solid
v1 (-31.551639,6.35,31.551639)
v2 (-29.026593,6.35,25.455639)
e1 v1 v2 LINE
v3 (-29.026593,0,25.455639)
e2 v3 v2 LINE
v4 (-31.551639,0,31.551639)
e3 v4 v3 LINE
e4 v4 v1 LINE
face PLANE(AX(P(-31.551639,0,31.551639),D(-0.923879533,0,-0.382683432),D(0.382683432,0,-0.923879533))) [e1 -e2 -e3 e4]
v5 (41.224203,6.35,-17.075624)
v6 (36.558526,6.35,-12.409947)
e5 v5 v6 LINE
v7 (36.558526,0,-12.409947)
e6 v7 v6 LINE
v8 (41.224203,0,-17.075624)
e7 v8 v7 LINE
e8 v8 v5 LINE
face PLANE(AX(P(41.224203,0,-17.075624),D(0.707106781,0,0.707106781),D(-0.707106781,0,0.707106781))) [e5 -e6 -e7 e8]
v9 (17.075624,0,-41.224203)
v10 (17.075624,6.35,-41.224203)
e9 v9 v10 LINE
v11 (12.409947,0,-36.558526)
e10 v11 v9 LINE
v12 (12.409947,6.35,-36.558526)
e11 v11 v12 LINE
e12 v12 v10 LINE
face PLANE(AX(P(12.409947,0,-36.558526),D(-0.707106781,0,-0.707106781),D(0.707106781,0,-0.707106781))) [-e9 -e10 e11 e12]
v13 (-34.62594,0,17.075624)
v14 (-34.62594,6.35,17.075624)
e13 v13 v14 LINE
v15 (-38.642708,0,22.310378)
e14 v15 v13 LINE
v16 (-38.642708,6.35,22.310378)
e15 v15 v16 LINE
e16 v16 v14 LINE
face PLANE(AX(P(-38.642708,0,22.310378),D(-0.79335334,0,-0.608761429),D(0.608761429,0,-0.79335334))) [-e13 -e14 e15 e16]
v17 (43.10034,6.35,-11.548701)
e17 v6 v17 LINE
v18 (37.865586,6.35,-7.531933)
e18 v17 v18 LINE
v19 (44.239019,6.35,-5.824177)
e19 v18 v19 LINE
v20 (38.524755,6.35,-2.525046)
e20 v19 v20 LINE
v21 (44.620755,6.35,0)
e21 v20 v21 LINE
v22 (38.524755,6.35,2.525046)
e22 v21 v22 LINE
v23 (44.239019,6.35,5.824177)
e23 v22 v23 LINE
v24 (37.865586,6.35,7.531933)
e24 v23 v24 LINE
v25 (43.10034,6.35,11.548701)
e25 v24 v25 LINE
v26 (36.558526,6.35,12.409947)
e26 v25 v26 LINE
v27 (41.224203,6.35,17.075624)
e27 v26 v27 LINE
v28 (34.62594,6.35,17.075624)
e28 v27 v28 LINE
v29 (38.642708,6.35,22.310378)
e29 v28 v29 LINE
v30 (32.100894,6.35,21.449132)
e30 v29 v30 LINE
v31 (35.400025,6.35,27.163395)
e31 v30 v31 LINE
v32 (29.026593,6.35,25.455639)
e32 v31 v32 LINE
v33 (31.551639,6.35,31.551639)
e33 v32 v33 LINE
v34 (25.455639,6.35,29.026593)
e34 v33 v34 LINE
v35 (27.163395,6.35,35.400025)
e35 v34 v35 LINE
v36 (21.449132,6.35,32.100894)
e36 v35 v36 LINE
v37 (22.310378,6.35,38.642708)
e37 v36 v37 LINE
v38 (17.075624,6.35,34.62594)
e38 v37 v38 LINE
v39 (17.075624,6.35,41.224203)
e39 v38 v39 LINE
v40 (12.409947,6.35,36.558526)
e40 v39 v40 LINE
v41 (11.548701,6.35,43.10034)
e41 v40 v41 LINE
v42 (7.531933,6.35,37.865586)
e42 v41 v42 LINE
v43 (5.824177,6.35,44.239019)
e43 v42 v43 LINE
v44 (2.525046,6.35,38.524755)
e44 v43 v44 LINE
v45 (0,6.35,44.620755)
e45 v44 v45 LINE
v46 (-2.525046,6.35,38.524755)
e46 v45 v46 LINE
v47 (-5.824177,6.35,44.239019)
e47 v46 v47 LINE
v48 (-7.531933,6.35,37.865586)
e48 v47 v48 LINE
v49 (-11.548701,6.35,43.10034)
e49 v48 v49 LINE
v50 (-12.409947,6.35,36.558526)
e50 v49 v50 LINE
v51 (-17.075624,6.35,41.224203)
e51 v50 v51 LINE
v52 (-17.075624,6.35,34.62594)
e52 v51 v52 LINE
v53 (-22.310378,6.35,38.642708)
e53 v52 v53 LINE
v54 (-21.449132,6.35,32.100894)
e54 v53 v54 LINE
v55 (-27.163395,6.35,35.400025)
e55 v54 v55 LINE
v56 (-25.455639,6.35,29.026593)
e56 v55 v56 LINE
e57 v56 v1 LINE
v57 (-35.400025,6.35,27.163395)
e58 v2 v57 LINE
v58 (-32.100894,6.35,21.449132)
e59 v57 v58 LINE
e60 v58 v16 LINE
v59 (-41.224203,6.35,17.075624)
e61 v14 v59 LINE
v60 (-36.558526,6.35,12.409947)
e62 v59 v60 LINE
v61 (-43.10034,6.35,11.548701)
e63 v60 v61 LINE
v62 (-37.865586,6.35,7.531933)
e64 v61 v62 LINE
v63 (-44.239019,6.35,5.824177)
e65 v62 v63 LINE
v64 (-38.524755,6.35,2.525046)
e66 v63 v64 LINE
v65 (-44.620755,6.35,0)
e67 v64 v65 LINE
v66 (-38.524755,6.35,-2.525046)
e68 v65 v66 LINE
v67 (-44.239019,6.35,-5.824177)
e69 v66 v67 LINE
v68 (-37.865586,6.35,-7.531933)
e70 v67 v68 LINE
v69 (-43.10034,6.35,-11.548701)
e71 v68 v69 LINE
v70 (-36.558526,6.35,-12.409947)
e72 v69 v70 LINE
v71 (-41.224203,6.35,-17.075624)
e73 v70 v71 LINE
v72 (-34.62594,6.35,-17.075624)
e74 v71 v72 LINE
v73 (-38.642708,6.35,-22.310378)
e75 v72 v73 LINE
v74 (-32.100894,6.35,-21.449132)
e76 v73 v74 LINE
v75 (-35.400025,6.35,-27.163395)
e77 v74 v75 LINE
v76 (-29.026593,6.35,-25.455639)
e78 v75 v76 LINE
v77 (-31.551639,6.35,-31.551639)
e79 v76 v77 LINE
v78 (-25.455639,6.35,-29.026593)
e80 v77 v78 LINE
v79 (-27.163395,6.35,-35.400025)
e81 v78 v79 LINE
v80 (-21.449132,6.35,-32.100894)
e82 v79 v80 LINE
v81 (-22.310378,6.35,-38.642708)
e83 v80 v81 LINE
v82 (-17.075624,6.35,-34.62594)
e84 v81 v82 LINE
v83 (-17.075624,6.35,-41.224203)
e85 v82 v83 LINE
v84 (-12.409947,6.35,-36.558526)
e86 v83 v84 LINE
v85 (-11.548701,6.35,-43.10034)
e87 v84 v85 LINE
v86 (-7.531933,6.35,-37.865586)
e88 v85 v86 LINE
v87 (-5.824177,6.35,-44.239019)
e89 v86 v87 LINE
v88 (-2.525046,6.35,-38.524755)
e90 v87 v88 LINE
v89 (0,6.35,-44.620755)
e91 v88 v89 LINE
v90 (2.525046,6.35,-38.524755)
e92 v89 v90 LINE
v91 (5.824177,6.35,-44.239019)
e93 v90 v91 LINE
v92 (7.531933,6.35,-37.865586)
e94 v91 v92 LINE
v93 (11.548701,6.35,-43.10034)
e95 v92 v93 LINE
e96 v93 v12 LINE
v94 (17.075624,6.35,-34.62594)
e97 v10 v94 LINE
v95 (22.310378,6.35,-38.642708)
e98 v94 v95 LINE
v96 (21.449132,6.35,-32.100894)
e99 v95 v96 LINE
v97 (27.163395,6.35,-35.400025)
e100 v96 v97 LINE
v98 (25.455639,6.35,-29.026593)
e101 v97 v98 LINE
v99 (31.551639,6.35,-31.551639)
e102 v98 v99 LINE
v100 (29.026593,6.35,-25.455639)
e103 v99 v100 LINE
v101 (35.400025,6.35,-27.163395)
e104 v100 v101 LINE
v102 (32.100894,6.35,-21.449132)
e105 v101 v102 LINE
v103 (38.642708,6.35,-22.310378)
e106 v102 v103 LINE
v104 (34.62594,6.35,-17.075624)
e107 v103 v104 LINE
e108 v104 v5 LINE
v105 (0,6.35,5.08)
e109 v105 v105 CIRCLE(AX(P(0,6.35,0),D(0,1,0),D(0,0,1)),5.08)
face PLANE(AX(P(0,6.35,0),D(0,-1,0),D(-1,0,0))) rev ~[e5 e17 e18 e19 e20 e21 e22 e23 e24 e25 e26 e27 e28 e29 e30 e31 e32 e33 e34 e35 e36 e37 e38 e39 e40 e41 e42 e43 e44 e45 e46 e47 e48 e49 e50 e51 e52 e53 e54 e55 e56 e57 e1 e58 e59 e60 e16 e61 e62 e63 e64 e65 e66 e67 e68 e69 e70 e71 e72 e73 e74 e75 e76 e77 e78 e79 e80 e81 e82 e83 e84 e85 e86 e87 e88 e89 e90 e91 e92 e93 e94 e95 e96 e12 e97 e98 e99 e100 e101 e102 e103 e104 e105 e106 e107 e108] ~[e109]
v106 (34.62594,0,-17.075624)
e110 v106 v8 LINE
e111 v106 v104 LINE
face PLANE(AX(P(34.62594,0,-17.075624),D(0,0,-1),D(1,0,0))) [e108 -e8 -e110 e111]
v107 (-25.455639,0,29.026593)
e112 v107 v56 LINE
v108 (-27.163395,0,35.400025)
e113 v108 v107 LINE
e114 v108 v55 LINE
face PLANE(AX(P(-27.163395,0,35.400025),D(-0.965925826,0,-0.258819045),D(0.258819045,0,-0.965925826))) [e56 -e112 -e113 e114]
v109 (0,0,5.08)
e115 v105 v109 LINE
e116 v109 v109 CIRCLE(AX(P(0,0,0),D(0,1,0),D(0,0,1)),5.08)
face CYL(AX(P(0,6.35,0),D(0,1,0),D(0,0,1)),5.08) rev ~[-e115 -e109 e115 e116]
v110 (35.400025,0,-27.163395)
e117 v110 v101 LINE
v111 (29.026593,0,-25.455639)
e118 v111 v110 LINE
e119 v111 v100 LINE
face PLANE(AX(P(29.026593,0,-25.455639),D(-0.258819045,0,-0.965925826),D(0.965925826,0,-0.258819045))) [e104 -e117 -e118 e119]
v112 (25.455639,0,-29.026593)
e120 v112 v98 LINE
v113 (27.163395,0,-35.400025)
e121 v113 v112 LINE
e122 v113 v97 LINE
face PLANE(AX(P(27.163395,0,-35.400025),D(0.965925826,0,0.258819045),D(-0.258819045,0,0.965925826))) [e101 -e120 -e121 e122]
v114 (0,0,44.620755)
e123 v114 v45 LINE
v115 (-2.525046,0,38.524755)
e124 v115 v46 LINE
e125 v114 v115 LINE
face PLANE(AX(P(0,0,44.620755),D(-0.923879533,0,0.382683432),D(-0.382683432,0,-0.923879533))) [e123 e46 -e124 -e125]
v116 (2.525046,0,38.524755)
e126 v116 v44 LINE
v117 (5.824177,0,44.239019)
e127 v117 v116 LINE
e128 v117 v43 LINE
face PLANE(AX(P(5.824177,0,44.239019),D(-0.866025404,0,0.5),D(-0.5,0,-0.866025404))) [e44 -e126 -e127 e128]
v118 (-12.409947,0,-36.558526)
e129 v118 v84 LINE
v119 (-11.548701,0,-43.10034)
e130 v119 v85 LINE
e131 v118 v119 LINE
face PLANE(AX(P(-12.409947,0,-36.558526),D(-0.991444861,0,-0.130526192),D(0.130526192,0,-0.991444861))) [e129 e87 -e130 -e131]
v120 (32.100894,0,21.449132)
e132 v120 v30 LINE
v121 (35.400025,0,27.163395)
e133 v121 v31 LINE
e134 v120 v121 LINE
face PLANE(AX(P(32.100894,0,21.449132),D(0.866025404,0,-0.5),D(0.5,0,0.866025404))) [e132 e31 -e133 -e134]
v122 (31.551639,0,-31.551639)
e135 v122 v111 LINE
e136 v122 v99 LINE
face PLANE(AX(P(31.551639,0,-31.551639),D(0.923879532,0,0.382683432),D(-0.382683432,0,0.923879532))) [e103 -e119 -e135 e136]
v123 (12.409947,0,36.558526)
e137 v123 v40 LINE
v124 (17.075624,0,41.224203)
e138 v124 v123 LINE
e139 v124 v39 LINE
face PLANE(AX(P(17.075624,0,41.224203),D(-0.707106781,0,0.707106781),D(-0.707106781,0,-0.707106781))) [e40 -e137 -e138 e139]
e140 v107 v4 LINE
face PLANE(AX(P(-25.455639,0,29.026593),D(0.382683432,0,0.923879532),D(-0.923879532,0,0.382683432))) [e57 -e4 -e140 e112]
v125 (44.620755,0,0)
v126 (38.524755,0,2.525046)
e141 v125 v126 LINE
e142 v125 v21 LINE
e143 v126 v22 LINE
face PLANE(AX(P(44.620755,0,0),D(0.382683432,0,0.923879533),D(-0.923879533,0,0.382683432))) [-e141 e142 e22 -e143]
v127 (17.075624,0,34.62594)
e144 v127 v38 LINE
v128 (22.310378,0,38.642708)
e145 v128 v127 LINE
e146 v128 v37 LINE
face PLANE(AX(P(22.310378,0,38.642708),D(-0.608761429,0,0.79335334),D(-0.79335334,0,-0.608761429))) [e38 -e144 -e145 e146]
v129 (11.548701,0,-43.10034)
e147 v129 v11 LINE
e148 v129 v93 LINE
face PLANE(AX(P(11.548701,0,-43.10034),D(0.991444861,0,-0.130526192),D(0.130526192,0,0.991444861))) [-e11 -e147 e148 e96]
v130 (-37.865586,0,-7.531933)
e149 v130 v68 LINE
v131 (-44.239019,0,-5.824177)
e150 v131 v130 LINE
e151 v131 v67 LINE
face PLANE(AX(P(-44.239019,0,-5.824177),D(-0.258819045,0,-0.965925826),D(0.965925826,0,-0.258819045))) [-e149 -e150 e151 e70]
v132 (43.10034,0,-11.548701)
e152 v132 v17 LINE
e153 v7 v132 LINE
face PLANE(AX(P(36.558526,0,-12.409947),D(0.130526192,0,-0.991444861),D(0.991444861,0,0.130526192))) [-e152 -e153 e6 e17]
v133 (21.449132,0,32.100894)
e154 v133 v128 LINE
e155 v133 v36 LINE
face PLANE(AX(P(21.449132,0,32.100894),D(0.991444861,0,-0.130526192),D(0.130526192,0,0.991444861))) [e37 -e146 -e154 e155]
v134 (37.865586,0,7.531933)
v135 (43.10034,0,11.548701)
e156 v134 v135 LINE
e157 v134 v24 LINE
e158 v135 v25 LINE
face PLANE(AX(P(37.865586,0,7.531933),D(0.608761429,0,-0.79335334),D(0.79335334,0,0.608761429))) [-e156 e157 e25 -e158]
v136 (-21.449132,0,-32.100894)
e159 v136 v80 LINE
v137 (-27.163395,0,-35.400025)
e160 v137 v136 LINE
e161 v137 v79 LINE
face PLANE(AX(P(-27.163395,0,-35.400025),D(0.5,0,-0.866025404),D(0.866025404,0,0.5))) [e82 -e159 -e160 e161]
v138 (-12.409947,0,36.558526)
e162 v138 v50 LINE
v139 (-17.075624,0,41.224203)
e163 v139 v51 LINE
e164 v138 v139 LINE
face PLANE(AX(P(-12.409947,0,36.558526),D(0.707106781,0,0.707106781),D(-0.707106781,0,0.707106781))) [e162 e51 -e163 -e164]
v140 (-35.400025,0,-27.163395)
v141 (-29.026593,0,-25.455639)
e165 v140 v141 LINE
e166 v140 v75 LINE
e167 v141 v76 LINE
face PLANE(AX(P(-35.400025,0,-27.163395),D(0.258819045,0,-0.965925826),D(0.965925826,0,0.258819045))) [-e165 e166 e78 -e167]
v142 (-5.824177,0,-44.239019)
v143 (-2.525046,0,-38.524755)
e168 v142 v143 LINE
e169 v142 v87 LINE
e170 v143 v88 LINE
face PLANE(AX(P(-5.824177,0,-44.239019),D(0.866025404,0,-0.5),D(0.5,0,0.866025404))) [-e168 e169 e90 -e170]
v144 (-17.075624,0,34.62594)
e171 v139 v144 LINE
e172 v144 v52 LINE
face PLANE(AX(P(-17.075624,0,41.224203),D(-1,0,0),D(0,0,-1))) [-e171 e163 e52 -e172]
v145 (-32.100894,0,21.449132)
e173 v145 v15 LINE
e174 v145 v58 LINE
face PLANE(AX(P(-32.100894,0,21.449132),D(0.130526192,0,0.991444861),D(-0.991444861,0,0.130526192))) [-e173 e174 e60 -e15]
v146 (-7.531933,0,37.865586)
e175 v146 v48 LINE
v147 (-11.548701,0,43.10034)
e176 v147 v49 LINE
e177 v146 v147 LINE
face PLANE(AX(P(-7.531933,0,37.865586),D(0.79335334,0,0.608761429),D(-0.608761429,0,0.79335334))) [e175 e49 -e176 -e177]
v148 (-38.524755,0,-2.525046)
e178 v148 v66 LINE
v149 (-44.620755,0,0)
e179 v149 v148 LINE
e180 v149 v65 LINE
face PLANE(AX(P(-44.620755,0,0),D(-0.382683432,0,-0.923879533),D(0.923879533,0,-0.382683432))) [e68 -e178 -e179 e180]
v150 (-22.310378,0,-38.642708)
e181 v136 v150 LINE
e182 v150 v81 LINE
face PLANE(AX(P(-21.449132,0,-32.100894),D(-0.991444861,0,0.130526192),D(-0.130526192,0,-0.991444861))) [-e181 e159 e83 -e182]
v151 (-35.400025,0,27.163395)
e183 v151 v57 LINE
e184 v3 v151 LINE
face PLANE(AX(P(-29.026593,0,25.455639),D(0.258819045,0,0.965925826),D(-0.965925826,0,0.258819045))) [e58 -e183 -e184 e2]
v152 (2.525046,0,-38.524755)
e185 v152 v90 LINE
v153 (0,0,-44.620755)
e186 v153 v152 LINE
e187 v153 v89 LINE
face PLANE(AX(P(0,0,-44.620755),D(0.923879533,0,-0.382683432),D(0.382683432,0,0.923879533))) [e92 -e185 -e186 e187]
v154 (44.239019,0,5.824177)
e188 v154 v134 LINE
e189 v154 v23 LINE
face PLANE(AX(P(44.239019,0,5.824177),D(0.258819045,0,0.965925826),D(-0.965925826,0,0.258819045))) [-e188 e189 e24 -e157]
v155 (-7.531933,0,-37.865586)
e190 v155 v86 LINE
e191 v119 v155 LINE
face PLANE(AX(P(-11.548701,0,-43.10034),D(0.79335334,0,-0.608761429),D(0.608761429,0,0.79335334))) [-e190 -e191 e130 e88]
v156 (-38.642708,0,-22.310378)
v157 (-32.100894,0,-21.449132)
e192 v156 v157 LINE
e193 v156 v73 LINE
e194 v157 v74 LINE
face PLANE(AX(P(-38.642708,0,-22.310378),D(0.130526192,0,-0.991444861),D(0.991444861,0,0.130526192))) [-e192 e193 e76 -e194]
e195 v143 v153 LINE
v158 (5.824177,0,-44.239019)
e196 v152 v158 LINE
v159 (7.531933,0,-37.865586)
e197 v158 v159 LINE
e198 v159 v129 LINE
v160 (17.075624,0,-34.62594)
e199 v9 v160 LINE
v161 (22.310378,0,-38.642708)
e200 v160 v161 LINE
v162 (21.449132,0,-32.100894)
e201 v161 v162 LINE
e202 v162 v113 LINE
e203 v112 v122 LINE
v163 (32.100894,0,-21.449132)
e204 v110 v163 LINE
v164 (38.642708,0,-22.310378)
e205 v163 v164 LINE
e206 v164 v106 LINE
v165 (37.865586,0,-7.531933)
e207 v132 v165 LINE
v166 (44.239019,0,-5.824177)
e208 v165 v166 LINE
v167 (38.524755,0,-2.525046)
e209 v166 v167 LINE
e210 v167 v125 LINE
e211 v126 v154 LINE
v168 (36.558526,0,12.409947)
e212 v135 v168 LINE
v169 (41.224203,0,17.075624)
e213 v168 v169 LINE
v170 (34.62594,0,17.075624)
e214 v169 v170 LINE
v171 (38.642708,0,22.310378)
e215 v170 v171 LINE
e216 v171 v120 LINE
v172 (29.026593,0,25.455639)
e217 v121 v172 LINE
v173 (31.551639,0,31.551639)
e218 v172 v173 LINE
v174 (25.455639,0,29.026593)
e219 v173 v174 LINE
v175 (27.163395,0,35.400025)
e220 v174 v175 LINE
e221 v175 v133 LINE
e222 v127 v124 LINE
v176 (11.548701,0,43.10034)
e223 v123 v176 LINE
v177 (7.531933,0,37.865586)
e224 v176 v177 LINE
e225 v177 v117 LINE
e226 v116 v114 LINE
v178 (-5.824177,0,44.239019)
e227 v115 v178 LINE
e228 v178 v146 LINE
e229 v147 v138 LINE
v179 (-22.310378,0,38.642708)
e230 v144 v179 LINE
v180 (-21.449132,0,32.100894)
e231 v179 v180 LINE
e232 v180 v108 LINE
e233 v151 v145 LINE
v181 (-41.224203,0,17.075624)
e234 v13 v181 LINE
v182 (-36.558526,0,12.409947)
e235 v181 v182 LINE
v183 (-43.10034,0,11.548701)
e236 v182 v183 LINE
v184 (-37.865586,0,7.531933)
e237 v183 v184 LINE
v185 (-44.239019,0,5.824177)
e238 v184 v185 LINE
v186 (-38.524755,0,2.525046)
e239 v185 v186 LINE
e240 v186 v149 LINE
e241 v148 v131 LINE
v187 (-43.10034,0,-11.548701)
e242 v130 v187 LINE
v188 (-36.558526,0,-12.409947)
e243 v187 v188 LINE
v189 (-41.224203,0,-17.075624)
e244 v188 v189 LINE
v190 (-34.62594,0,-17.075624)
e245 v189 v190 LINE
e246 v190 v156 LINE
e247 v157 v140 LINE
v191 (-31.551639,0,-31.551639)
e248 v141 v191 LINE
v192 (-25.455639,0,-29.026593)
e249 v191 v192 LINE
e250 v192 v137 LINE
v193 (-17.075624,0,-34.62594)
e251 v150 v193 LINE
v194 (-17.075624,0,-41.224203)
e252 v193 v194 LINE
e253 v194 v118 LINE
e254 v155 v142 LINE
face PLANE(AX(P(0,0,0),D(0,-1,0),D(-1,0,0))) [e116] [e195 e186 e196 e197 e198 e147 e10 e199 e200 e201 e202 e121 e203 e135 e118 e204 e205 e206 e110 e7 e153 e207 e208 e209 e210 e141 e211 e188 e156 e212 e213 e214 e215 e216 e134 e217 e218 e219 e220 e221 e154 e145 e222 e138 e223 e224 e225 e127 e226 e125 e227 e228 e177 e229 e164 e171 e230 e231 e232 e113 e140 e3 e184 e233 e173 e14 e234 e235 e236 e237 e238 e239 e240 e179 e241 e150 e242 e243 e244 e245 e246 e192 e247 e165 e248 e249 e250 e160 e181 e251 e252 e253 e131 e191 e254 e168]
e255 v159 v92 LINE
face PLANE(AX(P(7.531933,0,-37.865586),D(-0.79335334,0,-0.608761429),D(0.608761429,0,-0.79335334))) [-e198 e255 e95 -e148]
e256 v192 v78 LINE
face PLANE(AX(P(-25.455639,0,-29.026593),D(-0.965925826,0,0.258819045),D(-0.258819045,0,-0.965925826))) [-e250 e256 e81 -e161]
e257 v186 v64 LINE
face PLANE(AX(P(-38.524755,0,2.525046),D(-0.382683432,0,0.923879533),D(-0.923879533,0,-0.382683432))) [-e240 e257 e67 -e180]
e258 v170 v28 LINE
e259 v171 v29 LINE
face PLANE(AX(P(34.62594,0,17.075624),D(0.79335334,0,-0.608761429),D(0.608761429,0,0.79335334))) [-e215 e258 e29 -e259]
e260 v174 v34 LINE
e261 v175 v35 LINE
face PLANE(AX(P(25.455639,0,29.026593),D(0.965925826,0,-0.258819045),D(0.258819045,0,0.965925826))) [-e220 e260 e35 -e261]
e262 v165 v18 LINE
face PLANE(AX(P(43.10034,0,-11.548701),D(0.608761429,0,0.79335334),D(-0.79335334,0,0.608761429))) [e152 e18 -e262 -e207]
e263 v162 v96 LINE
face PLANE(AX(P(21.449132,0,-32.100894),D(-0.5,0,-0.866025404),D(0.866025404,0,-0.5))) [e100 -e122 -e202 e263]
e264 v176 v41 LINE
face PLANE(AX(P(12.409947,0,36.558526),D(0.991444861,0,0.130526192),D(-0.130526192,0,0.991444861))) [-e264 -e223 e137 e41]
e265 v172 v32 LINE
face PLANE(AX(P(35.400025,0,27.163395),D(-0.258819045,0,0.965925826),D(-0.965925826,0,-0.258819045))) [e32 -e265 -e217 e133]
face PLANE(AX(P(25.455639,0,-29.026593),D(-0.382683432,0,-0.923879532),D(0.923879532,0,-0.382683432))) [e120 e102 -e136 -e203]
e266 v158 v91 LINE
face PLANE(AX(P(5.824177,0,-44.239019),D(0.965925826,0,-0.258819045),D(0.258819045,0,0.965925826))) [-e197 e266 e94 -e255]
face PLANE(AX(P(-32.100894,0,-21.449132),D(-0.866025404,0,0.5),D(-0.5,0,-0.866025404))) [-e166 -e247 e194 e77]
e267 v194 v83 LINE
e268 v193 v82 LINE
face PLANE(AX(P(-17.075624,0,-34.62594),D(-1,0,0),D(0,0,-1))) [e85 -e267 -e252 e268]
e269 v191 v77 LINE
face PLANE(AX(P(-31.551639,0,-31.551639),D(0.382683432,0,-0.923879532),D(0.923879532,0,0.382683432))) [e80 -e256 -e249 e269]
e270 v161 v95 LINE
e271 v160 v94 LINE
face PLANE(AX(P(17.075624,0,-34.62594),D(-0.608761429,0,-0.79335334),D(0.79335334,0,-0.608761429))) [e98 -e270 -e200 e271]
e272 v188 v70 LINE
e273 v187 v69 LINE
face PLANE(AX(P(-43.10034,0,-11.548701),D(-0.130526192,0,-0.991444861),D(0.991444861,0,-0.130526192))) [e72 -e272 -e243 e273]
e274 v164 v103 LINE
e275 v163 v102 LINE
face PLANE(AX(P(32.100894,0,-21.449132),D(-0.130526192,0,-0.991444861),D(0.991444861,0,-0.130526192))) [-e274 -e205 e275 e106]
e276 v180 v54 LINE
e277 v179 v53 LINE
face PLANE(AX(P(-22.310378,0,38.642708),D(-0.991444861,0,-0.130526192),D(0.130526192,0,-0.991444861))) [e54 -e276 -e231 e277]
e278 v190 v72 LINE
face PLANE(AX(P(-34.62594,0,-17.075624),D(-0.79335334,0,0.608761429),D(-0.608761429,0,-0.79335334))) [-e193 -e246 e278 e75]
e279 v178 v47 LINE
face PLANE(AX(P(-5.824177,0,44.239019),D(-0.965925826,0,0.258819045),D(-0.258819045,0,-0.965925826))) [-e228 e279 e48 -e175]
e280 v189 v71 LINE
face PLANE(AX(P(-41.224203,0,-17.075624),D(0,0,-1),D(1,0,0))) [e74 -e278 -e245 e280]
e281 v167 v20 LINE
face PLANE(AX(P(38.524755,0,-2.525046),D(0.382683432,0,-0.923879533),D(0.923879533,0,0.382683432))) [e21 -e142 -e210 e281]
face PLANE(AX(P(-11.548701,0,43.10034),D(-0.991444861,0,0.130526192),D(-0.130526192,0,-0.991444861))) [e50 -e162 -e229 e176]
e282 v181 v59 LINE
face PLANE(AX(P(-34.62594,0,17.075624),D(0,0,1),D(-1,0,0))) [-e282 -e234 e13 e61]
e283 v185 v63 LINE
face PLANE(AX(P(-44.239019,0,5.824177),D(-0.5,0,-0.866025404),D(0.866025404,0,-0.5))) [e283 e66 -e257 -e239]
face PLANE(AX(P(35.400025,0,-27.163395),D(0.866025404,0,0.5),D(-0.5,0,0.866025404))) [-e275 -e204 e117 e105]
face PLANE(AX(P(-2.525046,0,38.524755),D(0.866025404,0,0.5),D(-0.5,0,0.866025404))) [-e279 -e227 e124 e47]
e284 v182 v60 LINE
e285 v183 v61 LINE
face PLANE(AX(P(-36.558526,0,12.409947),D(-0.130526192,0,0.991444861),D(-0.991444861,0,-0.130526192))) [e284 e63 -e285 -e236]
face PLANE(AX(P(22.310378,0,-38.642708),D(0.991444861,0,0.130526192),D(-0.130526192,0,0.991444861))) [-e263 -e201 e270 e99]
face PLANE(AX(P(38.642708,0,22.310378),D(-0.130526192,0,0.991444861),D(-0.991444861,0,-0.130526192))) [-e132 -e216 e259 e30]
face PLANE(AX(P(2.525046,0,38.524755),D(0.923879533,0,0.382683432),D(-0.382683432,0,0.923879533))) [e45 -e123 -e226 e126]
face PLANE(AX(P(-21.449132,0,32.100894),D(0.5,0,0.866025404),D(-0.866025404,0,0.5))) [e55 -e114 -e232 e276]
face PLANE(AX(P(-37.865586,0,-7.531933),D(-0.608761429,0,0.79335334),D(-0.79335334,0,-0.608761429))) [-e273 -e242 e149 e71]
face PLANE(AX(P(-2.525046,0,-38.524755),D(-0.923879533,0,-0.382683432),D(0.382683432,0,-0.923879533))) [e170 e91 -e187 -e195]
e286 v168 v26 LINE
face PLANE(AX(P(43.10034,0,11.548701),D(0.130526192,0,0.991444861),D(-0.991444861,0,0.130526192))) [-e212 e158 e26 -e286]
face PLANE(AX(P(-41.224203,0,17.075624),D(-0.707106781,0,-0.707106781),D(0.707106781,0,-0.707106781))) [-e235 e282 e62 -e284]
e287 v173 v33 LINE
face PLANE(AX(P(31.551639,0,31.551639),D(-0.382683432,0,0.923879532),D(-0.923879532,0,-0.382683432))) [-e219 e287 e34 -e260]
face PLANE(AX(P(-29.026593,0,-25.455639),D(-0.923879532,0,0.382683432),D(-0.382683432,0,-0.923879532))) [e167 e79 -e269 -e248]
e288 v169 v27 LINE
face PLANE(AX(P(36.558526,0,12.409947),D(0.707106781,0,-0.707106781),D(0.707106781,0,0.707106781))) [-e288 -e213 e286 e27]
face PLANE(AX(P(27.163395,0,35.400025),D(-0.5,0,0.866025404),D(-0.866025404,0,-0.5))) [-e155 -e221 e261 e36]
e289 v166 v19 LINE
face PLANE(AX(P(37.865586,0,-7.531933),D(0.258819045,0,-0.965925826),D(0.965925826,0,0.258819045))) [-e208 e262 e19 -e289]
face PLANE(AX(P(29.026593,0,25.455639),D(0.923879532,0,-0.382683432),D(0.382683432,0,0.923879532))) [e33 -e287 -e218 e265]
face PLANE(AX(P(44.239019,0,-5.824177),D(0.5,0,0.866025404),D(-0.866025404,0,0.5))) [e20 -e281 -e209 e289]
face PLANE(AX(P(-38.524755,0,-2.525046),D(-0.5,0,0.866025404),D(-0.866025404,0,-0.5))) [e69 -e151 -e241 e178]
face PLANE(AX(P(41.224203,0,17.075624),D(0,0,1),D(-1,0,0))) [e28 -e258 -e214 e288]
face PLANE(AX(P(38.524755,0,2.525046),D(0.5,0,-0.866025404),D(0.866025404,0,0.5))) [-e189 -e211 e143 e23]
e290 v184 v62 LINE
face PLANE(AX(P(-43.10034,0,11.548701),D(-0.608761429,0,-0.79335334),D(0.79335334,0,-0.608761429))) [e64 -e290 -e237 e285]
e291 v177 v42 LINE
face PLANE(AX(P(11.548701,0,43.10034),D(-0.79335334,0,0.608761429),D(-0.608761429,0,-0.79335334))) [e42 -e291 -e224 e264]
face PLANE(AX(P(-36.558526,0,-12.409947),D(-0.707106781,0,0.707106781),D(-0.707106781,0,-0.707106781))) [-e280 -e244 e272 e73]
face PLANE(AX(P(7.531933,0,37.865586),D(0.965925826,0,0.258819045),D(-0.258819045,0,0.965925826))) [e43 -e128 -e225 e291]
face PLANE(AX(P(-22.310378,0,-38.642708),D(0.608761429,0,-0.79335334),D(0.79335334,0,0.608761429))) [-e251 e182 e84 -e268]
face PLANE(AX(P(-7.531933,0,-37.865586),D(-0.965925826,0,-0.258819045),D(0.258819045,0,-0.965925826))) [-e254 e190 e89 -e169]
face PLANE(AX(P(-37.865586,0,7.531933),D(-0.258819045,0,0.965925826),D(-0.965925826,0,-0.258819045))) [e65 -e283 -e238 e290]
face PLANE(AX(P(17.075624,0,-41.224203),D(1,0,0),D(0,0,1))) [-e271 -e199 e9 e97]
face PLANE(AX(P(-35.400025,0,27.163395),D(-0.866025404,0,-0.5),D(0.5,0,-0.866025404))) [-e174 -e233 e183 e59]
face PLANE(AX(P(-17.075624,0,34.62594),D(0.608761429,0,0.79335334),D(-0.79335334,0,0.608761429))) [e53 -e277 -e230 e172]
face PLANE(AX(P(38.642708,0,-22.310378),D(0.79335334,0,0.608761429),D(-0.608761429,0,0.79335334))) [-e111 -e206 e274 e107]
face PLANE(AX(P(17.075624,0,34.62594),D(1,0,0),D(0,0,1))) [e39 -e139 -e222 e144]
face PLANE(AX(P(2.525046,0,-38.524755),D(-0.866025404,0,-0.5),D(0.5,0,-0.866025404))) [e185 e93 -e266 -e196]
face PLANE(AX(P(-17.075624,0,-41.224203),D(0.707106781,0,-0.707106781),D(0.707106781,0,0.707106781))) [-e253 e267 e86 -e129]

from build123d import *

# Parameters (mm, degrees)
BOSS_EXTRUDE1_DEPTH = 6.35
SKETCH3_R           = 5.08
CUT_EXTRUDE3_DEPTH  = 6.35


with BuildPart() as part:
    # Sketch2 → Boss-Extrude1 (new body)
    with BuildSketch(Plane(origin=(0, 0, 0), x_dir=(1, 0, 0), z_dir=(0, 1, 0))):
        Polygon((-17.07562385, 34.625939831), (-17.07562385, 41.224202684), (-12.409947442, 36.558526277), (-11.548701317, 43.100340077), (-7.531933394, 37.865586202), (-5.824177303, 44.2390187), (-2.525045876, 38.524755449), (0, 44.620755449), (2.525045876, 38.524755449), (5.824177303, 44.2390187), (7.531933394, 37.865586202), (11.548701317, 43.100340077), (12.409947442, 36.558526277), (17.07562385, 41.224202684), (17.07562385, 34.625939831), (22.310377724, 38.642707755), (21.449131599, 32.100893955), (27.16339485, 35.400025382), (25.45563876, 29.026592883), (31.55163876, 31.55163876), (29.026592883, 25.45563876), (35.400025382, 27.163394851), (32.100893955, 21.449131599), (38.642707755, 22.310377724), (34.625939831, 17.07562385), (41.224202684, 17.07562385), (36.558526277, 12.409947443), (43.100340077, 11.548701317), (37.865586202, 7.531933394), (44.2390187, 5.824177303), (38.524755449, 2.525045876), (44.620755449, 0), (38.524755449, -2.525045876), (44.2390187, -5.824177303), (37.865586202, -7.531933394), (43.100340077, -11.548701317), (36.558526277, -12.409947442), (41.224202684, -17.07562385), (34.625939831, -17.07562385), (38.642707755, -22.310377724), (32.100893955, -21.449131599), (35.400025382, -27.16339485), (29.026592883, -25.45563876), (31.55163876, -31.55163876), (25.45563876, -29.026592883), (27.163394851, -35.400025382), (21.449131599, -32.100893955), (22.310377724, -38.642707755), (17.07562385, -34.625939831), (17.07562385, -41.224202684), (12.409947443, -36.558526277), (11.548701317, -43.100340077), (7.531933394, -37.865586202), (5.824177303, -44.2390187), (2.525045876, -38.524755449), (0, -44.620755449), (-2.525045876, -38.524755449), (-5.824177303, -44.2390187), (-7.531933394, -37.865586202), (-11.548701317, -43.100340077), (-12.409947442, -36.558526277), (-17.07562385, -41.224202684), (-17.07562385, -34.625939831), (-22.310377724, -38.642707755), (-21.449131599, -32.100893955), (-27.16339485, -35.400025382), (-25.455638759, -29.026592883), (-31.551638759, -31.55163876), (-29.026592883, -25.45563876), (-35.400025382, -27.16339485), (-32.100893955, -21.449131599), (-38.642707755, -22.310377724), (-34.625939831, -17.07562385), (-41.224202684, -17.07562385), (-36.558526277, -12.409947442), (-43.100340077, -11.548701317), (-37.865586202, -7.531933394), (-44.2390187, -5.824177303), (-38.524755449, -2.525045876), (-44.620755449, 0), (-38.524755449, 2.525045876), (-44.2390187, 5.824177303), (-37.865586202, 7.531933394), (-43.100340077, 11.548701317), (-36.558526277, 12.409947442), (-41.224202684, 17.07562385), (-34.625939831, 17.07562385), (-38.642707755, 22.310377724), (-32.100893955, 21.449131599), (-35.400025382, 27.16339485), (-29.026592883, 25.45563876), (-31.55163876, 31.55163876), (-25.45563876, 29.026592883), (-27.16339485, 35.400025382), (-21.449131599, 32.100893955), (-22.310377724, 38.642707755), align=None)
    extrude(amount=BOSS_EXTRUDE1_DEPTH)

    # Sketch3 → Cut-Extrude3 (cut)
    with BuildSketch(Plane(origin=(0, 6.35, 0), x_dir=(1, 0, 0), z_dir=(0, 1, 0))):
        with Locations(Location((0, 0, 0), (0, 0, 270))):
            Circle(SKETCH3_R)
    extrude(amount=-CUT_EXTRUDE3_DEPTH, mode=Mode.SUBTRACT)


solid = part.part
